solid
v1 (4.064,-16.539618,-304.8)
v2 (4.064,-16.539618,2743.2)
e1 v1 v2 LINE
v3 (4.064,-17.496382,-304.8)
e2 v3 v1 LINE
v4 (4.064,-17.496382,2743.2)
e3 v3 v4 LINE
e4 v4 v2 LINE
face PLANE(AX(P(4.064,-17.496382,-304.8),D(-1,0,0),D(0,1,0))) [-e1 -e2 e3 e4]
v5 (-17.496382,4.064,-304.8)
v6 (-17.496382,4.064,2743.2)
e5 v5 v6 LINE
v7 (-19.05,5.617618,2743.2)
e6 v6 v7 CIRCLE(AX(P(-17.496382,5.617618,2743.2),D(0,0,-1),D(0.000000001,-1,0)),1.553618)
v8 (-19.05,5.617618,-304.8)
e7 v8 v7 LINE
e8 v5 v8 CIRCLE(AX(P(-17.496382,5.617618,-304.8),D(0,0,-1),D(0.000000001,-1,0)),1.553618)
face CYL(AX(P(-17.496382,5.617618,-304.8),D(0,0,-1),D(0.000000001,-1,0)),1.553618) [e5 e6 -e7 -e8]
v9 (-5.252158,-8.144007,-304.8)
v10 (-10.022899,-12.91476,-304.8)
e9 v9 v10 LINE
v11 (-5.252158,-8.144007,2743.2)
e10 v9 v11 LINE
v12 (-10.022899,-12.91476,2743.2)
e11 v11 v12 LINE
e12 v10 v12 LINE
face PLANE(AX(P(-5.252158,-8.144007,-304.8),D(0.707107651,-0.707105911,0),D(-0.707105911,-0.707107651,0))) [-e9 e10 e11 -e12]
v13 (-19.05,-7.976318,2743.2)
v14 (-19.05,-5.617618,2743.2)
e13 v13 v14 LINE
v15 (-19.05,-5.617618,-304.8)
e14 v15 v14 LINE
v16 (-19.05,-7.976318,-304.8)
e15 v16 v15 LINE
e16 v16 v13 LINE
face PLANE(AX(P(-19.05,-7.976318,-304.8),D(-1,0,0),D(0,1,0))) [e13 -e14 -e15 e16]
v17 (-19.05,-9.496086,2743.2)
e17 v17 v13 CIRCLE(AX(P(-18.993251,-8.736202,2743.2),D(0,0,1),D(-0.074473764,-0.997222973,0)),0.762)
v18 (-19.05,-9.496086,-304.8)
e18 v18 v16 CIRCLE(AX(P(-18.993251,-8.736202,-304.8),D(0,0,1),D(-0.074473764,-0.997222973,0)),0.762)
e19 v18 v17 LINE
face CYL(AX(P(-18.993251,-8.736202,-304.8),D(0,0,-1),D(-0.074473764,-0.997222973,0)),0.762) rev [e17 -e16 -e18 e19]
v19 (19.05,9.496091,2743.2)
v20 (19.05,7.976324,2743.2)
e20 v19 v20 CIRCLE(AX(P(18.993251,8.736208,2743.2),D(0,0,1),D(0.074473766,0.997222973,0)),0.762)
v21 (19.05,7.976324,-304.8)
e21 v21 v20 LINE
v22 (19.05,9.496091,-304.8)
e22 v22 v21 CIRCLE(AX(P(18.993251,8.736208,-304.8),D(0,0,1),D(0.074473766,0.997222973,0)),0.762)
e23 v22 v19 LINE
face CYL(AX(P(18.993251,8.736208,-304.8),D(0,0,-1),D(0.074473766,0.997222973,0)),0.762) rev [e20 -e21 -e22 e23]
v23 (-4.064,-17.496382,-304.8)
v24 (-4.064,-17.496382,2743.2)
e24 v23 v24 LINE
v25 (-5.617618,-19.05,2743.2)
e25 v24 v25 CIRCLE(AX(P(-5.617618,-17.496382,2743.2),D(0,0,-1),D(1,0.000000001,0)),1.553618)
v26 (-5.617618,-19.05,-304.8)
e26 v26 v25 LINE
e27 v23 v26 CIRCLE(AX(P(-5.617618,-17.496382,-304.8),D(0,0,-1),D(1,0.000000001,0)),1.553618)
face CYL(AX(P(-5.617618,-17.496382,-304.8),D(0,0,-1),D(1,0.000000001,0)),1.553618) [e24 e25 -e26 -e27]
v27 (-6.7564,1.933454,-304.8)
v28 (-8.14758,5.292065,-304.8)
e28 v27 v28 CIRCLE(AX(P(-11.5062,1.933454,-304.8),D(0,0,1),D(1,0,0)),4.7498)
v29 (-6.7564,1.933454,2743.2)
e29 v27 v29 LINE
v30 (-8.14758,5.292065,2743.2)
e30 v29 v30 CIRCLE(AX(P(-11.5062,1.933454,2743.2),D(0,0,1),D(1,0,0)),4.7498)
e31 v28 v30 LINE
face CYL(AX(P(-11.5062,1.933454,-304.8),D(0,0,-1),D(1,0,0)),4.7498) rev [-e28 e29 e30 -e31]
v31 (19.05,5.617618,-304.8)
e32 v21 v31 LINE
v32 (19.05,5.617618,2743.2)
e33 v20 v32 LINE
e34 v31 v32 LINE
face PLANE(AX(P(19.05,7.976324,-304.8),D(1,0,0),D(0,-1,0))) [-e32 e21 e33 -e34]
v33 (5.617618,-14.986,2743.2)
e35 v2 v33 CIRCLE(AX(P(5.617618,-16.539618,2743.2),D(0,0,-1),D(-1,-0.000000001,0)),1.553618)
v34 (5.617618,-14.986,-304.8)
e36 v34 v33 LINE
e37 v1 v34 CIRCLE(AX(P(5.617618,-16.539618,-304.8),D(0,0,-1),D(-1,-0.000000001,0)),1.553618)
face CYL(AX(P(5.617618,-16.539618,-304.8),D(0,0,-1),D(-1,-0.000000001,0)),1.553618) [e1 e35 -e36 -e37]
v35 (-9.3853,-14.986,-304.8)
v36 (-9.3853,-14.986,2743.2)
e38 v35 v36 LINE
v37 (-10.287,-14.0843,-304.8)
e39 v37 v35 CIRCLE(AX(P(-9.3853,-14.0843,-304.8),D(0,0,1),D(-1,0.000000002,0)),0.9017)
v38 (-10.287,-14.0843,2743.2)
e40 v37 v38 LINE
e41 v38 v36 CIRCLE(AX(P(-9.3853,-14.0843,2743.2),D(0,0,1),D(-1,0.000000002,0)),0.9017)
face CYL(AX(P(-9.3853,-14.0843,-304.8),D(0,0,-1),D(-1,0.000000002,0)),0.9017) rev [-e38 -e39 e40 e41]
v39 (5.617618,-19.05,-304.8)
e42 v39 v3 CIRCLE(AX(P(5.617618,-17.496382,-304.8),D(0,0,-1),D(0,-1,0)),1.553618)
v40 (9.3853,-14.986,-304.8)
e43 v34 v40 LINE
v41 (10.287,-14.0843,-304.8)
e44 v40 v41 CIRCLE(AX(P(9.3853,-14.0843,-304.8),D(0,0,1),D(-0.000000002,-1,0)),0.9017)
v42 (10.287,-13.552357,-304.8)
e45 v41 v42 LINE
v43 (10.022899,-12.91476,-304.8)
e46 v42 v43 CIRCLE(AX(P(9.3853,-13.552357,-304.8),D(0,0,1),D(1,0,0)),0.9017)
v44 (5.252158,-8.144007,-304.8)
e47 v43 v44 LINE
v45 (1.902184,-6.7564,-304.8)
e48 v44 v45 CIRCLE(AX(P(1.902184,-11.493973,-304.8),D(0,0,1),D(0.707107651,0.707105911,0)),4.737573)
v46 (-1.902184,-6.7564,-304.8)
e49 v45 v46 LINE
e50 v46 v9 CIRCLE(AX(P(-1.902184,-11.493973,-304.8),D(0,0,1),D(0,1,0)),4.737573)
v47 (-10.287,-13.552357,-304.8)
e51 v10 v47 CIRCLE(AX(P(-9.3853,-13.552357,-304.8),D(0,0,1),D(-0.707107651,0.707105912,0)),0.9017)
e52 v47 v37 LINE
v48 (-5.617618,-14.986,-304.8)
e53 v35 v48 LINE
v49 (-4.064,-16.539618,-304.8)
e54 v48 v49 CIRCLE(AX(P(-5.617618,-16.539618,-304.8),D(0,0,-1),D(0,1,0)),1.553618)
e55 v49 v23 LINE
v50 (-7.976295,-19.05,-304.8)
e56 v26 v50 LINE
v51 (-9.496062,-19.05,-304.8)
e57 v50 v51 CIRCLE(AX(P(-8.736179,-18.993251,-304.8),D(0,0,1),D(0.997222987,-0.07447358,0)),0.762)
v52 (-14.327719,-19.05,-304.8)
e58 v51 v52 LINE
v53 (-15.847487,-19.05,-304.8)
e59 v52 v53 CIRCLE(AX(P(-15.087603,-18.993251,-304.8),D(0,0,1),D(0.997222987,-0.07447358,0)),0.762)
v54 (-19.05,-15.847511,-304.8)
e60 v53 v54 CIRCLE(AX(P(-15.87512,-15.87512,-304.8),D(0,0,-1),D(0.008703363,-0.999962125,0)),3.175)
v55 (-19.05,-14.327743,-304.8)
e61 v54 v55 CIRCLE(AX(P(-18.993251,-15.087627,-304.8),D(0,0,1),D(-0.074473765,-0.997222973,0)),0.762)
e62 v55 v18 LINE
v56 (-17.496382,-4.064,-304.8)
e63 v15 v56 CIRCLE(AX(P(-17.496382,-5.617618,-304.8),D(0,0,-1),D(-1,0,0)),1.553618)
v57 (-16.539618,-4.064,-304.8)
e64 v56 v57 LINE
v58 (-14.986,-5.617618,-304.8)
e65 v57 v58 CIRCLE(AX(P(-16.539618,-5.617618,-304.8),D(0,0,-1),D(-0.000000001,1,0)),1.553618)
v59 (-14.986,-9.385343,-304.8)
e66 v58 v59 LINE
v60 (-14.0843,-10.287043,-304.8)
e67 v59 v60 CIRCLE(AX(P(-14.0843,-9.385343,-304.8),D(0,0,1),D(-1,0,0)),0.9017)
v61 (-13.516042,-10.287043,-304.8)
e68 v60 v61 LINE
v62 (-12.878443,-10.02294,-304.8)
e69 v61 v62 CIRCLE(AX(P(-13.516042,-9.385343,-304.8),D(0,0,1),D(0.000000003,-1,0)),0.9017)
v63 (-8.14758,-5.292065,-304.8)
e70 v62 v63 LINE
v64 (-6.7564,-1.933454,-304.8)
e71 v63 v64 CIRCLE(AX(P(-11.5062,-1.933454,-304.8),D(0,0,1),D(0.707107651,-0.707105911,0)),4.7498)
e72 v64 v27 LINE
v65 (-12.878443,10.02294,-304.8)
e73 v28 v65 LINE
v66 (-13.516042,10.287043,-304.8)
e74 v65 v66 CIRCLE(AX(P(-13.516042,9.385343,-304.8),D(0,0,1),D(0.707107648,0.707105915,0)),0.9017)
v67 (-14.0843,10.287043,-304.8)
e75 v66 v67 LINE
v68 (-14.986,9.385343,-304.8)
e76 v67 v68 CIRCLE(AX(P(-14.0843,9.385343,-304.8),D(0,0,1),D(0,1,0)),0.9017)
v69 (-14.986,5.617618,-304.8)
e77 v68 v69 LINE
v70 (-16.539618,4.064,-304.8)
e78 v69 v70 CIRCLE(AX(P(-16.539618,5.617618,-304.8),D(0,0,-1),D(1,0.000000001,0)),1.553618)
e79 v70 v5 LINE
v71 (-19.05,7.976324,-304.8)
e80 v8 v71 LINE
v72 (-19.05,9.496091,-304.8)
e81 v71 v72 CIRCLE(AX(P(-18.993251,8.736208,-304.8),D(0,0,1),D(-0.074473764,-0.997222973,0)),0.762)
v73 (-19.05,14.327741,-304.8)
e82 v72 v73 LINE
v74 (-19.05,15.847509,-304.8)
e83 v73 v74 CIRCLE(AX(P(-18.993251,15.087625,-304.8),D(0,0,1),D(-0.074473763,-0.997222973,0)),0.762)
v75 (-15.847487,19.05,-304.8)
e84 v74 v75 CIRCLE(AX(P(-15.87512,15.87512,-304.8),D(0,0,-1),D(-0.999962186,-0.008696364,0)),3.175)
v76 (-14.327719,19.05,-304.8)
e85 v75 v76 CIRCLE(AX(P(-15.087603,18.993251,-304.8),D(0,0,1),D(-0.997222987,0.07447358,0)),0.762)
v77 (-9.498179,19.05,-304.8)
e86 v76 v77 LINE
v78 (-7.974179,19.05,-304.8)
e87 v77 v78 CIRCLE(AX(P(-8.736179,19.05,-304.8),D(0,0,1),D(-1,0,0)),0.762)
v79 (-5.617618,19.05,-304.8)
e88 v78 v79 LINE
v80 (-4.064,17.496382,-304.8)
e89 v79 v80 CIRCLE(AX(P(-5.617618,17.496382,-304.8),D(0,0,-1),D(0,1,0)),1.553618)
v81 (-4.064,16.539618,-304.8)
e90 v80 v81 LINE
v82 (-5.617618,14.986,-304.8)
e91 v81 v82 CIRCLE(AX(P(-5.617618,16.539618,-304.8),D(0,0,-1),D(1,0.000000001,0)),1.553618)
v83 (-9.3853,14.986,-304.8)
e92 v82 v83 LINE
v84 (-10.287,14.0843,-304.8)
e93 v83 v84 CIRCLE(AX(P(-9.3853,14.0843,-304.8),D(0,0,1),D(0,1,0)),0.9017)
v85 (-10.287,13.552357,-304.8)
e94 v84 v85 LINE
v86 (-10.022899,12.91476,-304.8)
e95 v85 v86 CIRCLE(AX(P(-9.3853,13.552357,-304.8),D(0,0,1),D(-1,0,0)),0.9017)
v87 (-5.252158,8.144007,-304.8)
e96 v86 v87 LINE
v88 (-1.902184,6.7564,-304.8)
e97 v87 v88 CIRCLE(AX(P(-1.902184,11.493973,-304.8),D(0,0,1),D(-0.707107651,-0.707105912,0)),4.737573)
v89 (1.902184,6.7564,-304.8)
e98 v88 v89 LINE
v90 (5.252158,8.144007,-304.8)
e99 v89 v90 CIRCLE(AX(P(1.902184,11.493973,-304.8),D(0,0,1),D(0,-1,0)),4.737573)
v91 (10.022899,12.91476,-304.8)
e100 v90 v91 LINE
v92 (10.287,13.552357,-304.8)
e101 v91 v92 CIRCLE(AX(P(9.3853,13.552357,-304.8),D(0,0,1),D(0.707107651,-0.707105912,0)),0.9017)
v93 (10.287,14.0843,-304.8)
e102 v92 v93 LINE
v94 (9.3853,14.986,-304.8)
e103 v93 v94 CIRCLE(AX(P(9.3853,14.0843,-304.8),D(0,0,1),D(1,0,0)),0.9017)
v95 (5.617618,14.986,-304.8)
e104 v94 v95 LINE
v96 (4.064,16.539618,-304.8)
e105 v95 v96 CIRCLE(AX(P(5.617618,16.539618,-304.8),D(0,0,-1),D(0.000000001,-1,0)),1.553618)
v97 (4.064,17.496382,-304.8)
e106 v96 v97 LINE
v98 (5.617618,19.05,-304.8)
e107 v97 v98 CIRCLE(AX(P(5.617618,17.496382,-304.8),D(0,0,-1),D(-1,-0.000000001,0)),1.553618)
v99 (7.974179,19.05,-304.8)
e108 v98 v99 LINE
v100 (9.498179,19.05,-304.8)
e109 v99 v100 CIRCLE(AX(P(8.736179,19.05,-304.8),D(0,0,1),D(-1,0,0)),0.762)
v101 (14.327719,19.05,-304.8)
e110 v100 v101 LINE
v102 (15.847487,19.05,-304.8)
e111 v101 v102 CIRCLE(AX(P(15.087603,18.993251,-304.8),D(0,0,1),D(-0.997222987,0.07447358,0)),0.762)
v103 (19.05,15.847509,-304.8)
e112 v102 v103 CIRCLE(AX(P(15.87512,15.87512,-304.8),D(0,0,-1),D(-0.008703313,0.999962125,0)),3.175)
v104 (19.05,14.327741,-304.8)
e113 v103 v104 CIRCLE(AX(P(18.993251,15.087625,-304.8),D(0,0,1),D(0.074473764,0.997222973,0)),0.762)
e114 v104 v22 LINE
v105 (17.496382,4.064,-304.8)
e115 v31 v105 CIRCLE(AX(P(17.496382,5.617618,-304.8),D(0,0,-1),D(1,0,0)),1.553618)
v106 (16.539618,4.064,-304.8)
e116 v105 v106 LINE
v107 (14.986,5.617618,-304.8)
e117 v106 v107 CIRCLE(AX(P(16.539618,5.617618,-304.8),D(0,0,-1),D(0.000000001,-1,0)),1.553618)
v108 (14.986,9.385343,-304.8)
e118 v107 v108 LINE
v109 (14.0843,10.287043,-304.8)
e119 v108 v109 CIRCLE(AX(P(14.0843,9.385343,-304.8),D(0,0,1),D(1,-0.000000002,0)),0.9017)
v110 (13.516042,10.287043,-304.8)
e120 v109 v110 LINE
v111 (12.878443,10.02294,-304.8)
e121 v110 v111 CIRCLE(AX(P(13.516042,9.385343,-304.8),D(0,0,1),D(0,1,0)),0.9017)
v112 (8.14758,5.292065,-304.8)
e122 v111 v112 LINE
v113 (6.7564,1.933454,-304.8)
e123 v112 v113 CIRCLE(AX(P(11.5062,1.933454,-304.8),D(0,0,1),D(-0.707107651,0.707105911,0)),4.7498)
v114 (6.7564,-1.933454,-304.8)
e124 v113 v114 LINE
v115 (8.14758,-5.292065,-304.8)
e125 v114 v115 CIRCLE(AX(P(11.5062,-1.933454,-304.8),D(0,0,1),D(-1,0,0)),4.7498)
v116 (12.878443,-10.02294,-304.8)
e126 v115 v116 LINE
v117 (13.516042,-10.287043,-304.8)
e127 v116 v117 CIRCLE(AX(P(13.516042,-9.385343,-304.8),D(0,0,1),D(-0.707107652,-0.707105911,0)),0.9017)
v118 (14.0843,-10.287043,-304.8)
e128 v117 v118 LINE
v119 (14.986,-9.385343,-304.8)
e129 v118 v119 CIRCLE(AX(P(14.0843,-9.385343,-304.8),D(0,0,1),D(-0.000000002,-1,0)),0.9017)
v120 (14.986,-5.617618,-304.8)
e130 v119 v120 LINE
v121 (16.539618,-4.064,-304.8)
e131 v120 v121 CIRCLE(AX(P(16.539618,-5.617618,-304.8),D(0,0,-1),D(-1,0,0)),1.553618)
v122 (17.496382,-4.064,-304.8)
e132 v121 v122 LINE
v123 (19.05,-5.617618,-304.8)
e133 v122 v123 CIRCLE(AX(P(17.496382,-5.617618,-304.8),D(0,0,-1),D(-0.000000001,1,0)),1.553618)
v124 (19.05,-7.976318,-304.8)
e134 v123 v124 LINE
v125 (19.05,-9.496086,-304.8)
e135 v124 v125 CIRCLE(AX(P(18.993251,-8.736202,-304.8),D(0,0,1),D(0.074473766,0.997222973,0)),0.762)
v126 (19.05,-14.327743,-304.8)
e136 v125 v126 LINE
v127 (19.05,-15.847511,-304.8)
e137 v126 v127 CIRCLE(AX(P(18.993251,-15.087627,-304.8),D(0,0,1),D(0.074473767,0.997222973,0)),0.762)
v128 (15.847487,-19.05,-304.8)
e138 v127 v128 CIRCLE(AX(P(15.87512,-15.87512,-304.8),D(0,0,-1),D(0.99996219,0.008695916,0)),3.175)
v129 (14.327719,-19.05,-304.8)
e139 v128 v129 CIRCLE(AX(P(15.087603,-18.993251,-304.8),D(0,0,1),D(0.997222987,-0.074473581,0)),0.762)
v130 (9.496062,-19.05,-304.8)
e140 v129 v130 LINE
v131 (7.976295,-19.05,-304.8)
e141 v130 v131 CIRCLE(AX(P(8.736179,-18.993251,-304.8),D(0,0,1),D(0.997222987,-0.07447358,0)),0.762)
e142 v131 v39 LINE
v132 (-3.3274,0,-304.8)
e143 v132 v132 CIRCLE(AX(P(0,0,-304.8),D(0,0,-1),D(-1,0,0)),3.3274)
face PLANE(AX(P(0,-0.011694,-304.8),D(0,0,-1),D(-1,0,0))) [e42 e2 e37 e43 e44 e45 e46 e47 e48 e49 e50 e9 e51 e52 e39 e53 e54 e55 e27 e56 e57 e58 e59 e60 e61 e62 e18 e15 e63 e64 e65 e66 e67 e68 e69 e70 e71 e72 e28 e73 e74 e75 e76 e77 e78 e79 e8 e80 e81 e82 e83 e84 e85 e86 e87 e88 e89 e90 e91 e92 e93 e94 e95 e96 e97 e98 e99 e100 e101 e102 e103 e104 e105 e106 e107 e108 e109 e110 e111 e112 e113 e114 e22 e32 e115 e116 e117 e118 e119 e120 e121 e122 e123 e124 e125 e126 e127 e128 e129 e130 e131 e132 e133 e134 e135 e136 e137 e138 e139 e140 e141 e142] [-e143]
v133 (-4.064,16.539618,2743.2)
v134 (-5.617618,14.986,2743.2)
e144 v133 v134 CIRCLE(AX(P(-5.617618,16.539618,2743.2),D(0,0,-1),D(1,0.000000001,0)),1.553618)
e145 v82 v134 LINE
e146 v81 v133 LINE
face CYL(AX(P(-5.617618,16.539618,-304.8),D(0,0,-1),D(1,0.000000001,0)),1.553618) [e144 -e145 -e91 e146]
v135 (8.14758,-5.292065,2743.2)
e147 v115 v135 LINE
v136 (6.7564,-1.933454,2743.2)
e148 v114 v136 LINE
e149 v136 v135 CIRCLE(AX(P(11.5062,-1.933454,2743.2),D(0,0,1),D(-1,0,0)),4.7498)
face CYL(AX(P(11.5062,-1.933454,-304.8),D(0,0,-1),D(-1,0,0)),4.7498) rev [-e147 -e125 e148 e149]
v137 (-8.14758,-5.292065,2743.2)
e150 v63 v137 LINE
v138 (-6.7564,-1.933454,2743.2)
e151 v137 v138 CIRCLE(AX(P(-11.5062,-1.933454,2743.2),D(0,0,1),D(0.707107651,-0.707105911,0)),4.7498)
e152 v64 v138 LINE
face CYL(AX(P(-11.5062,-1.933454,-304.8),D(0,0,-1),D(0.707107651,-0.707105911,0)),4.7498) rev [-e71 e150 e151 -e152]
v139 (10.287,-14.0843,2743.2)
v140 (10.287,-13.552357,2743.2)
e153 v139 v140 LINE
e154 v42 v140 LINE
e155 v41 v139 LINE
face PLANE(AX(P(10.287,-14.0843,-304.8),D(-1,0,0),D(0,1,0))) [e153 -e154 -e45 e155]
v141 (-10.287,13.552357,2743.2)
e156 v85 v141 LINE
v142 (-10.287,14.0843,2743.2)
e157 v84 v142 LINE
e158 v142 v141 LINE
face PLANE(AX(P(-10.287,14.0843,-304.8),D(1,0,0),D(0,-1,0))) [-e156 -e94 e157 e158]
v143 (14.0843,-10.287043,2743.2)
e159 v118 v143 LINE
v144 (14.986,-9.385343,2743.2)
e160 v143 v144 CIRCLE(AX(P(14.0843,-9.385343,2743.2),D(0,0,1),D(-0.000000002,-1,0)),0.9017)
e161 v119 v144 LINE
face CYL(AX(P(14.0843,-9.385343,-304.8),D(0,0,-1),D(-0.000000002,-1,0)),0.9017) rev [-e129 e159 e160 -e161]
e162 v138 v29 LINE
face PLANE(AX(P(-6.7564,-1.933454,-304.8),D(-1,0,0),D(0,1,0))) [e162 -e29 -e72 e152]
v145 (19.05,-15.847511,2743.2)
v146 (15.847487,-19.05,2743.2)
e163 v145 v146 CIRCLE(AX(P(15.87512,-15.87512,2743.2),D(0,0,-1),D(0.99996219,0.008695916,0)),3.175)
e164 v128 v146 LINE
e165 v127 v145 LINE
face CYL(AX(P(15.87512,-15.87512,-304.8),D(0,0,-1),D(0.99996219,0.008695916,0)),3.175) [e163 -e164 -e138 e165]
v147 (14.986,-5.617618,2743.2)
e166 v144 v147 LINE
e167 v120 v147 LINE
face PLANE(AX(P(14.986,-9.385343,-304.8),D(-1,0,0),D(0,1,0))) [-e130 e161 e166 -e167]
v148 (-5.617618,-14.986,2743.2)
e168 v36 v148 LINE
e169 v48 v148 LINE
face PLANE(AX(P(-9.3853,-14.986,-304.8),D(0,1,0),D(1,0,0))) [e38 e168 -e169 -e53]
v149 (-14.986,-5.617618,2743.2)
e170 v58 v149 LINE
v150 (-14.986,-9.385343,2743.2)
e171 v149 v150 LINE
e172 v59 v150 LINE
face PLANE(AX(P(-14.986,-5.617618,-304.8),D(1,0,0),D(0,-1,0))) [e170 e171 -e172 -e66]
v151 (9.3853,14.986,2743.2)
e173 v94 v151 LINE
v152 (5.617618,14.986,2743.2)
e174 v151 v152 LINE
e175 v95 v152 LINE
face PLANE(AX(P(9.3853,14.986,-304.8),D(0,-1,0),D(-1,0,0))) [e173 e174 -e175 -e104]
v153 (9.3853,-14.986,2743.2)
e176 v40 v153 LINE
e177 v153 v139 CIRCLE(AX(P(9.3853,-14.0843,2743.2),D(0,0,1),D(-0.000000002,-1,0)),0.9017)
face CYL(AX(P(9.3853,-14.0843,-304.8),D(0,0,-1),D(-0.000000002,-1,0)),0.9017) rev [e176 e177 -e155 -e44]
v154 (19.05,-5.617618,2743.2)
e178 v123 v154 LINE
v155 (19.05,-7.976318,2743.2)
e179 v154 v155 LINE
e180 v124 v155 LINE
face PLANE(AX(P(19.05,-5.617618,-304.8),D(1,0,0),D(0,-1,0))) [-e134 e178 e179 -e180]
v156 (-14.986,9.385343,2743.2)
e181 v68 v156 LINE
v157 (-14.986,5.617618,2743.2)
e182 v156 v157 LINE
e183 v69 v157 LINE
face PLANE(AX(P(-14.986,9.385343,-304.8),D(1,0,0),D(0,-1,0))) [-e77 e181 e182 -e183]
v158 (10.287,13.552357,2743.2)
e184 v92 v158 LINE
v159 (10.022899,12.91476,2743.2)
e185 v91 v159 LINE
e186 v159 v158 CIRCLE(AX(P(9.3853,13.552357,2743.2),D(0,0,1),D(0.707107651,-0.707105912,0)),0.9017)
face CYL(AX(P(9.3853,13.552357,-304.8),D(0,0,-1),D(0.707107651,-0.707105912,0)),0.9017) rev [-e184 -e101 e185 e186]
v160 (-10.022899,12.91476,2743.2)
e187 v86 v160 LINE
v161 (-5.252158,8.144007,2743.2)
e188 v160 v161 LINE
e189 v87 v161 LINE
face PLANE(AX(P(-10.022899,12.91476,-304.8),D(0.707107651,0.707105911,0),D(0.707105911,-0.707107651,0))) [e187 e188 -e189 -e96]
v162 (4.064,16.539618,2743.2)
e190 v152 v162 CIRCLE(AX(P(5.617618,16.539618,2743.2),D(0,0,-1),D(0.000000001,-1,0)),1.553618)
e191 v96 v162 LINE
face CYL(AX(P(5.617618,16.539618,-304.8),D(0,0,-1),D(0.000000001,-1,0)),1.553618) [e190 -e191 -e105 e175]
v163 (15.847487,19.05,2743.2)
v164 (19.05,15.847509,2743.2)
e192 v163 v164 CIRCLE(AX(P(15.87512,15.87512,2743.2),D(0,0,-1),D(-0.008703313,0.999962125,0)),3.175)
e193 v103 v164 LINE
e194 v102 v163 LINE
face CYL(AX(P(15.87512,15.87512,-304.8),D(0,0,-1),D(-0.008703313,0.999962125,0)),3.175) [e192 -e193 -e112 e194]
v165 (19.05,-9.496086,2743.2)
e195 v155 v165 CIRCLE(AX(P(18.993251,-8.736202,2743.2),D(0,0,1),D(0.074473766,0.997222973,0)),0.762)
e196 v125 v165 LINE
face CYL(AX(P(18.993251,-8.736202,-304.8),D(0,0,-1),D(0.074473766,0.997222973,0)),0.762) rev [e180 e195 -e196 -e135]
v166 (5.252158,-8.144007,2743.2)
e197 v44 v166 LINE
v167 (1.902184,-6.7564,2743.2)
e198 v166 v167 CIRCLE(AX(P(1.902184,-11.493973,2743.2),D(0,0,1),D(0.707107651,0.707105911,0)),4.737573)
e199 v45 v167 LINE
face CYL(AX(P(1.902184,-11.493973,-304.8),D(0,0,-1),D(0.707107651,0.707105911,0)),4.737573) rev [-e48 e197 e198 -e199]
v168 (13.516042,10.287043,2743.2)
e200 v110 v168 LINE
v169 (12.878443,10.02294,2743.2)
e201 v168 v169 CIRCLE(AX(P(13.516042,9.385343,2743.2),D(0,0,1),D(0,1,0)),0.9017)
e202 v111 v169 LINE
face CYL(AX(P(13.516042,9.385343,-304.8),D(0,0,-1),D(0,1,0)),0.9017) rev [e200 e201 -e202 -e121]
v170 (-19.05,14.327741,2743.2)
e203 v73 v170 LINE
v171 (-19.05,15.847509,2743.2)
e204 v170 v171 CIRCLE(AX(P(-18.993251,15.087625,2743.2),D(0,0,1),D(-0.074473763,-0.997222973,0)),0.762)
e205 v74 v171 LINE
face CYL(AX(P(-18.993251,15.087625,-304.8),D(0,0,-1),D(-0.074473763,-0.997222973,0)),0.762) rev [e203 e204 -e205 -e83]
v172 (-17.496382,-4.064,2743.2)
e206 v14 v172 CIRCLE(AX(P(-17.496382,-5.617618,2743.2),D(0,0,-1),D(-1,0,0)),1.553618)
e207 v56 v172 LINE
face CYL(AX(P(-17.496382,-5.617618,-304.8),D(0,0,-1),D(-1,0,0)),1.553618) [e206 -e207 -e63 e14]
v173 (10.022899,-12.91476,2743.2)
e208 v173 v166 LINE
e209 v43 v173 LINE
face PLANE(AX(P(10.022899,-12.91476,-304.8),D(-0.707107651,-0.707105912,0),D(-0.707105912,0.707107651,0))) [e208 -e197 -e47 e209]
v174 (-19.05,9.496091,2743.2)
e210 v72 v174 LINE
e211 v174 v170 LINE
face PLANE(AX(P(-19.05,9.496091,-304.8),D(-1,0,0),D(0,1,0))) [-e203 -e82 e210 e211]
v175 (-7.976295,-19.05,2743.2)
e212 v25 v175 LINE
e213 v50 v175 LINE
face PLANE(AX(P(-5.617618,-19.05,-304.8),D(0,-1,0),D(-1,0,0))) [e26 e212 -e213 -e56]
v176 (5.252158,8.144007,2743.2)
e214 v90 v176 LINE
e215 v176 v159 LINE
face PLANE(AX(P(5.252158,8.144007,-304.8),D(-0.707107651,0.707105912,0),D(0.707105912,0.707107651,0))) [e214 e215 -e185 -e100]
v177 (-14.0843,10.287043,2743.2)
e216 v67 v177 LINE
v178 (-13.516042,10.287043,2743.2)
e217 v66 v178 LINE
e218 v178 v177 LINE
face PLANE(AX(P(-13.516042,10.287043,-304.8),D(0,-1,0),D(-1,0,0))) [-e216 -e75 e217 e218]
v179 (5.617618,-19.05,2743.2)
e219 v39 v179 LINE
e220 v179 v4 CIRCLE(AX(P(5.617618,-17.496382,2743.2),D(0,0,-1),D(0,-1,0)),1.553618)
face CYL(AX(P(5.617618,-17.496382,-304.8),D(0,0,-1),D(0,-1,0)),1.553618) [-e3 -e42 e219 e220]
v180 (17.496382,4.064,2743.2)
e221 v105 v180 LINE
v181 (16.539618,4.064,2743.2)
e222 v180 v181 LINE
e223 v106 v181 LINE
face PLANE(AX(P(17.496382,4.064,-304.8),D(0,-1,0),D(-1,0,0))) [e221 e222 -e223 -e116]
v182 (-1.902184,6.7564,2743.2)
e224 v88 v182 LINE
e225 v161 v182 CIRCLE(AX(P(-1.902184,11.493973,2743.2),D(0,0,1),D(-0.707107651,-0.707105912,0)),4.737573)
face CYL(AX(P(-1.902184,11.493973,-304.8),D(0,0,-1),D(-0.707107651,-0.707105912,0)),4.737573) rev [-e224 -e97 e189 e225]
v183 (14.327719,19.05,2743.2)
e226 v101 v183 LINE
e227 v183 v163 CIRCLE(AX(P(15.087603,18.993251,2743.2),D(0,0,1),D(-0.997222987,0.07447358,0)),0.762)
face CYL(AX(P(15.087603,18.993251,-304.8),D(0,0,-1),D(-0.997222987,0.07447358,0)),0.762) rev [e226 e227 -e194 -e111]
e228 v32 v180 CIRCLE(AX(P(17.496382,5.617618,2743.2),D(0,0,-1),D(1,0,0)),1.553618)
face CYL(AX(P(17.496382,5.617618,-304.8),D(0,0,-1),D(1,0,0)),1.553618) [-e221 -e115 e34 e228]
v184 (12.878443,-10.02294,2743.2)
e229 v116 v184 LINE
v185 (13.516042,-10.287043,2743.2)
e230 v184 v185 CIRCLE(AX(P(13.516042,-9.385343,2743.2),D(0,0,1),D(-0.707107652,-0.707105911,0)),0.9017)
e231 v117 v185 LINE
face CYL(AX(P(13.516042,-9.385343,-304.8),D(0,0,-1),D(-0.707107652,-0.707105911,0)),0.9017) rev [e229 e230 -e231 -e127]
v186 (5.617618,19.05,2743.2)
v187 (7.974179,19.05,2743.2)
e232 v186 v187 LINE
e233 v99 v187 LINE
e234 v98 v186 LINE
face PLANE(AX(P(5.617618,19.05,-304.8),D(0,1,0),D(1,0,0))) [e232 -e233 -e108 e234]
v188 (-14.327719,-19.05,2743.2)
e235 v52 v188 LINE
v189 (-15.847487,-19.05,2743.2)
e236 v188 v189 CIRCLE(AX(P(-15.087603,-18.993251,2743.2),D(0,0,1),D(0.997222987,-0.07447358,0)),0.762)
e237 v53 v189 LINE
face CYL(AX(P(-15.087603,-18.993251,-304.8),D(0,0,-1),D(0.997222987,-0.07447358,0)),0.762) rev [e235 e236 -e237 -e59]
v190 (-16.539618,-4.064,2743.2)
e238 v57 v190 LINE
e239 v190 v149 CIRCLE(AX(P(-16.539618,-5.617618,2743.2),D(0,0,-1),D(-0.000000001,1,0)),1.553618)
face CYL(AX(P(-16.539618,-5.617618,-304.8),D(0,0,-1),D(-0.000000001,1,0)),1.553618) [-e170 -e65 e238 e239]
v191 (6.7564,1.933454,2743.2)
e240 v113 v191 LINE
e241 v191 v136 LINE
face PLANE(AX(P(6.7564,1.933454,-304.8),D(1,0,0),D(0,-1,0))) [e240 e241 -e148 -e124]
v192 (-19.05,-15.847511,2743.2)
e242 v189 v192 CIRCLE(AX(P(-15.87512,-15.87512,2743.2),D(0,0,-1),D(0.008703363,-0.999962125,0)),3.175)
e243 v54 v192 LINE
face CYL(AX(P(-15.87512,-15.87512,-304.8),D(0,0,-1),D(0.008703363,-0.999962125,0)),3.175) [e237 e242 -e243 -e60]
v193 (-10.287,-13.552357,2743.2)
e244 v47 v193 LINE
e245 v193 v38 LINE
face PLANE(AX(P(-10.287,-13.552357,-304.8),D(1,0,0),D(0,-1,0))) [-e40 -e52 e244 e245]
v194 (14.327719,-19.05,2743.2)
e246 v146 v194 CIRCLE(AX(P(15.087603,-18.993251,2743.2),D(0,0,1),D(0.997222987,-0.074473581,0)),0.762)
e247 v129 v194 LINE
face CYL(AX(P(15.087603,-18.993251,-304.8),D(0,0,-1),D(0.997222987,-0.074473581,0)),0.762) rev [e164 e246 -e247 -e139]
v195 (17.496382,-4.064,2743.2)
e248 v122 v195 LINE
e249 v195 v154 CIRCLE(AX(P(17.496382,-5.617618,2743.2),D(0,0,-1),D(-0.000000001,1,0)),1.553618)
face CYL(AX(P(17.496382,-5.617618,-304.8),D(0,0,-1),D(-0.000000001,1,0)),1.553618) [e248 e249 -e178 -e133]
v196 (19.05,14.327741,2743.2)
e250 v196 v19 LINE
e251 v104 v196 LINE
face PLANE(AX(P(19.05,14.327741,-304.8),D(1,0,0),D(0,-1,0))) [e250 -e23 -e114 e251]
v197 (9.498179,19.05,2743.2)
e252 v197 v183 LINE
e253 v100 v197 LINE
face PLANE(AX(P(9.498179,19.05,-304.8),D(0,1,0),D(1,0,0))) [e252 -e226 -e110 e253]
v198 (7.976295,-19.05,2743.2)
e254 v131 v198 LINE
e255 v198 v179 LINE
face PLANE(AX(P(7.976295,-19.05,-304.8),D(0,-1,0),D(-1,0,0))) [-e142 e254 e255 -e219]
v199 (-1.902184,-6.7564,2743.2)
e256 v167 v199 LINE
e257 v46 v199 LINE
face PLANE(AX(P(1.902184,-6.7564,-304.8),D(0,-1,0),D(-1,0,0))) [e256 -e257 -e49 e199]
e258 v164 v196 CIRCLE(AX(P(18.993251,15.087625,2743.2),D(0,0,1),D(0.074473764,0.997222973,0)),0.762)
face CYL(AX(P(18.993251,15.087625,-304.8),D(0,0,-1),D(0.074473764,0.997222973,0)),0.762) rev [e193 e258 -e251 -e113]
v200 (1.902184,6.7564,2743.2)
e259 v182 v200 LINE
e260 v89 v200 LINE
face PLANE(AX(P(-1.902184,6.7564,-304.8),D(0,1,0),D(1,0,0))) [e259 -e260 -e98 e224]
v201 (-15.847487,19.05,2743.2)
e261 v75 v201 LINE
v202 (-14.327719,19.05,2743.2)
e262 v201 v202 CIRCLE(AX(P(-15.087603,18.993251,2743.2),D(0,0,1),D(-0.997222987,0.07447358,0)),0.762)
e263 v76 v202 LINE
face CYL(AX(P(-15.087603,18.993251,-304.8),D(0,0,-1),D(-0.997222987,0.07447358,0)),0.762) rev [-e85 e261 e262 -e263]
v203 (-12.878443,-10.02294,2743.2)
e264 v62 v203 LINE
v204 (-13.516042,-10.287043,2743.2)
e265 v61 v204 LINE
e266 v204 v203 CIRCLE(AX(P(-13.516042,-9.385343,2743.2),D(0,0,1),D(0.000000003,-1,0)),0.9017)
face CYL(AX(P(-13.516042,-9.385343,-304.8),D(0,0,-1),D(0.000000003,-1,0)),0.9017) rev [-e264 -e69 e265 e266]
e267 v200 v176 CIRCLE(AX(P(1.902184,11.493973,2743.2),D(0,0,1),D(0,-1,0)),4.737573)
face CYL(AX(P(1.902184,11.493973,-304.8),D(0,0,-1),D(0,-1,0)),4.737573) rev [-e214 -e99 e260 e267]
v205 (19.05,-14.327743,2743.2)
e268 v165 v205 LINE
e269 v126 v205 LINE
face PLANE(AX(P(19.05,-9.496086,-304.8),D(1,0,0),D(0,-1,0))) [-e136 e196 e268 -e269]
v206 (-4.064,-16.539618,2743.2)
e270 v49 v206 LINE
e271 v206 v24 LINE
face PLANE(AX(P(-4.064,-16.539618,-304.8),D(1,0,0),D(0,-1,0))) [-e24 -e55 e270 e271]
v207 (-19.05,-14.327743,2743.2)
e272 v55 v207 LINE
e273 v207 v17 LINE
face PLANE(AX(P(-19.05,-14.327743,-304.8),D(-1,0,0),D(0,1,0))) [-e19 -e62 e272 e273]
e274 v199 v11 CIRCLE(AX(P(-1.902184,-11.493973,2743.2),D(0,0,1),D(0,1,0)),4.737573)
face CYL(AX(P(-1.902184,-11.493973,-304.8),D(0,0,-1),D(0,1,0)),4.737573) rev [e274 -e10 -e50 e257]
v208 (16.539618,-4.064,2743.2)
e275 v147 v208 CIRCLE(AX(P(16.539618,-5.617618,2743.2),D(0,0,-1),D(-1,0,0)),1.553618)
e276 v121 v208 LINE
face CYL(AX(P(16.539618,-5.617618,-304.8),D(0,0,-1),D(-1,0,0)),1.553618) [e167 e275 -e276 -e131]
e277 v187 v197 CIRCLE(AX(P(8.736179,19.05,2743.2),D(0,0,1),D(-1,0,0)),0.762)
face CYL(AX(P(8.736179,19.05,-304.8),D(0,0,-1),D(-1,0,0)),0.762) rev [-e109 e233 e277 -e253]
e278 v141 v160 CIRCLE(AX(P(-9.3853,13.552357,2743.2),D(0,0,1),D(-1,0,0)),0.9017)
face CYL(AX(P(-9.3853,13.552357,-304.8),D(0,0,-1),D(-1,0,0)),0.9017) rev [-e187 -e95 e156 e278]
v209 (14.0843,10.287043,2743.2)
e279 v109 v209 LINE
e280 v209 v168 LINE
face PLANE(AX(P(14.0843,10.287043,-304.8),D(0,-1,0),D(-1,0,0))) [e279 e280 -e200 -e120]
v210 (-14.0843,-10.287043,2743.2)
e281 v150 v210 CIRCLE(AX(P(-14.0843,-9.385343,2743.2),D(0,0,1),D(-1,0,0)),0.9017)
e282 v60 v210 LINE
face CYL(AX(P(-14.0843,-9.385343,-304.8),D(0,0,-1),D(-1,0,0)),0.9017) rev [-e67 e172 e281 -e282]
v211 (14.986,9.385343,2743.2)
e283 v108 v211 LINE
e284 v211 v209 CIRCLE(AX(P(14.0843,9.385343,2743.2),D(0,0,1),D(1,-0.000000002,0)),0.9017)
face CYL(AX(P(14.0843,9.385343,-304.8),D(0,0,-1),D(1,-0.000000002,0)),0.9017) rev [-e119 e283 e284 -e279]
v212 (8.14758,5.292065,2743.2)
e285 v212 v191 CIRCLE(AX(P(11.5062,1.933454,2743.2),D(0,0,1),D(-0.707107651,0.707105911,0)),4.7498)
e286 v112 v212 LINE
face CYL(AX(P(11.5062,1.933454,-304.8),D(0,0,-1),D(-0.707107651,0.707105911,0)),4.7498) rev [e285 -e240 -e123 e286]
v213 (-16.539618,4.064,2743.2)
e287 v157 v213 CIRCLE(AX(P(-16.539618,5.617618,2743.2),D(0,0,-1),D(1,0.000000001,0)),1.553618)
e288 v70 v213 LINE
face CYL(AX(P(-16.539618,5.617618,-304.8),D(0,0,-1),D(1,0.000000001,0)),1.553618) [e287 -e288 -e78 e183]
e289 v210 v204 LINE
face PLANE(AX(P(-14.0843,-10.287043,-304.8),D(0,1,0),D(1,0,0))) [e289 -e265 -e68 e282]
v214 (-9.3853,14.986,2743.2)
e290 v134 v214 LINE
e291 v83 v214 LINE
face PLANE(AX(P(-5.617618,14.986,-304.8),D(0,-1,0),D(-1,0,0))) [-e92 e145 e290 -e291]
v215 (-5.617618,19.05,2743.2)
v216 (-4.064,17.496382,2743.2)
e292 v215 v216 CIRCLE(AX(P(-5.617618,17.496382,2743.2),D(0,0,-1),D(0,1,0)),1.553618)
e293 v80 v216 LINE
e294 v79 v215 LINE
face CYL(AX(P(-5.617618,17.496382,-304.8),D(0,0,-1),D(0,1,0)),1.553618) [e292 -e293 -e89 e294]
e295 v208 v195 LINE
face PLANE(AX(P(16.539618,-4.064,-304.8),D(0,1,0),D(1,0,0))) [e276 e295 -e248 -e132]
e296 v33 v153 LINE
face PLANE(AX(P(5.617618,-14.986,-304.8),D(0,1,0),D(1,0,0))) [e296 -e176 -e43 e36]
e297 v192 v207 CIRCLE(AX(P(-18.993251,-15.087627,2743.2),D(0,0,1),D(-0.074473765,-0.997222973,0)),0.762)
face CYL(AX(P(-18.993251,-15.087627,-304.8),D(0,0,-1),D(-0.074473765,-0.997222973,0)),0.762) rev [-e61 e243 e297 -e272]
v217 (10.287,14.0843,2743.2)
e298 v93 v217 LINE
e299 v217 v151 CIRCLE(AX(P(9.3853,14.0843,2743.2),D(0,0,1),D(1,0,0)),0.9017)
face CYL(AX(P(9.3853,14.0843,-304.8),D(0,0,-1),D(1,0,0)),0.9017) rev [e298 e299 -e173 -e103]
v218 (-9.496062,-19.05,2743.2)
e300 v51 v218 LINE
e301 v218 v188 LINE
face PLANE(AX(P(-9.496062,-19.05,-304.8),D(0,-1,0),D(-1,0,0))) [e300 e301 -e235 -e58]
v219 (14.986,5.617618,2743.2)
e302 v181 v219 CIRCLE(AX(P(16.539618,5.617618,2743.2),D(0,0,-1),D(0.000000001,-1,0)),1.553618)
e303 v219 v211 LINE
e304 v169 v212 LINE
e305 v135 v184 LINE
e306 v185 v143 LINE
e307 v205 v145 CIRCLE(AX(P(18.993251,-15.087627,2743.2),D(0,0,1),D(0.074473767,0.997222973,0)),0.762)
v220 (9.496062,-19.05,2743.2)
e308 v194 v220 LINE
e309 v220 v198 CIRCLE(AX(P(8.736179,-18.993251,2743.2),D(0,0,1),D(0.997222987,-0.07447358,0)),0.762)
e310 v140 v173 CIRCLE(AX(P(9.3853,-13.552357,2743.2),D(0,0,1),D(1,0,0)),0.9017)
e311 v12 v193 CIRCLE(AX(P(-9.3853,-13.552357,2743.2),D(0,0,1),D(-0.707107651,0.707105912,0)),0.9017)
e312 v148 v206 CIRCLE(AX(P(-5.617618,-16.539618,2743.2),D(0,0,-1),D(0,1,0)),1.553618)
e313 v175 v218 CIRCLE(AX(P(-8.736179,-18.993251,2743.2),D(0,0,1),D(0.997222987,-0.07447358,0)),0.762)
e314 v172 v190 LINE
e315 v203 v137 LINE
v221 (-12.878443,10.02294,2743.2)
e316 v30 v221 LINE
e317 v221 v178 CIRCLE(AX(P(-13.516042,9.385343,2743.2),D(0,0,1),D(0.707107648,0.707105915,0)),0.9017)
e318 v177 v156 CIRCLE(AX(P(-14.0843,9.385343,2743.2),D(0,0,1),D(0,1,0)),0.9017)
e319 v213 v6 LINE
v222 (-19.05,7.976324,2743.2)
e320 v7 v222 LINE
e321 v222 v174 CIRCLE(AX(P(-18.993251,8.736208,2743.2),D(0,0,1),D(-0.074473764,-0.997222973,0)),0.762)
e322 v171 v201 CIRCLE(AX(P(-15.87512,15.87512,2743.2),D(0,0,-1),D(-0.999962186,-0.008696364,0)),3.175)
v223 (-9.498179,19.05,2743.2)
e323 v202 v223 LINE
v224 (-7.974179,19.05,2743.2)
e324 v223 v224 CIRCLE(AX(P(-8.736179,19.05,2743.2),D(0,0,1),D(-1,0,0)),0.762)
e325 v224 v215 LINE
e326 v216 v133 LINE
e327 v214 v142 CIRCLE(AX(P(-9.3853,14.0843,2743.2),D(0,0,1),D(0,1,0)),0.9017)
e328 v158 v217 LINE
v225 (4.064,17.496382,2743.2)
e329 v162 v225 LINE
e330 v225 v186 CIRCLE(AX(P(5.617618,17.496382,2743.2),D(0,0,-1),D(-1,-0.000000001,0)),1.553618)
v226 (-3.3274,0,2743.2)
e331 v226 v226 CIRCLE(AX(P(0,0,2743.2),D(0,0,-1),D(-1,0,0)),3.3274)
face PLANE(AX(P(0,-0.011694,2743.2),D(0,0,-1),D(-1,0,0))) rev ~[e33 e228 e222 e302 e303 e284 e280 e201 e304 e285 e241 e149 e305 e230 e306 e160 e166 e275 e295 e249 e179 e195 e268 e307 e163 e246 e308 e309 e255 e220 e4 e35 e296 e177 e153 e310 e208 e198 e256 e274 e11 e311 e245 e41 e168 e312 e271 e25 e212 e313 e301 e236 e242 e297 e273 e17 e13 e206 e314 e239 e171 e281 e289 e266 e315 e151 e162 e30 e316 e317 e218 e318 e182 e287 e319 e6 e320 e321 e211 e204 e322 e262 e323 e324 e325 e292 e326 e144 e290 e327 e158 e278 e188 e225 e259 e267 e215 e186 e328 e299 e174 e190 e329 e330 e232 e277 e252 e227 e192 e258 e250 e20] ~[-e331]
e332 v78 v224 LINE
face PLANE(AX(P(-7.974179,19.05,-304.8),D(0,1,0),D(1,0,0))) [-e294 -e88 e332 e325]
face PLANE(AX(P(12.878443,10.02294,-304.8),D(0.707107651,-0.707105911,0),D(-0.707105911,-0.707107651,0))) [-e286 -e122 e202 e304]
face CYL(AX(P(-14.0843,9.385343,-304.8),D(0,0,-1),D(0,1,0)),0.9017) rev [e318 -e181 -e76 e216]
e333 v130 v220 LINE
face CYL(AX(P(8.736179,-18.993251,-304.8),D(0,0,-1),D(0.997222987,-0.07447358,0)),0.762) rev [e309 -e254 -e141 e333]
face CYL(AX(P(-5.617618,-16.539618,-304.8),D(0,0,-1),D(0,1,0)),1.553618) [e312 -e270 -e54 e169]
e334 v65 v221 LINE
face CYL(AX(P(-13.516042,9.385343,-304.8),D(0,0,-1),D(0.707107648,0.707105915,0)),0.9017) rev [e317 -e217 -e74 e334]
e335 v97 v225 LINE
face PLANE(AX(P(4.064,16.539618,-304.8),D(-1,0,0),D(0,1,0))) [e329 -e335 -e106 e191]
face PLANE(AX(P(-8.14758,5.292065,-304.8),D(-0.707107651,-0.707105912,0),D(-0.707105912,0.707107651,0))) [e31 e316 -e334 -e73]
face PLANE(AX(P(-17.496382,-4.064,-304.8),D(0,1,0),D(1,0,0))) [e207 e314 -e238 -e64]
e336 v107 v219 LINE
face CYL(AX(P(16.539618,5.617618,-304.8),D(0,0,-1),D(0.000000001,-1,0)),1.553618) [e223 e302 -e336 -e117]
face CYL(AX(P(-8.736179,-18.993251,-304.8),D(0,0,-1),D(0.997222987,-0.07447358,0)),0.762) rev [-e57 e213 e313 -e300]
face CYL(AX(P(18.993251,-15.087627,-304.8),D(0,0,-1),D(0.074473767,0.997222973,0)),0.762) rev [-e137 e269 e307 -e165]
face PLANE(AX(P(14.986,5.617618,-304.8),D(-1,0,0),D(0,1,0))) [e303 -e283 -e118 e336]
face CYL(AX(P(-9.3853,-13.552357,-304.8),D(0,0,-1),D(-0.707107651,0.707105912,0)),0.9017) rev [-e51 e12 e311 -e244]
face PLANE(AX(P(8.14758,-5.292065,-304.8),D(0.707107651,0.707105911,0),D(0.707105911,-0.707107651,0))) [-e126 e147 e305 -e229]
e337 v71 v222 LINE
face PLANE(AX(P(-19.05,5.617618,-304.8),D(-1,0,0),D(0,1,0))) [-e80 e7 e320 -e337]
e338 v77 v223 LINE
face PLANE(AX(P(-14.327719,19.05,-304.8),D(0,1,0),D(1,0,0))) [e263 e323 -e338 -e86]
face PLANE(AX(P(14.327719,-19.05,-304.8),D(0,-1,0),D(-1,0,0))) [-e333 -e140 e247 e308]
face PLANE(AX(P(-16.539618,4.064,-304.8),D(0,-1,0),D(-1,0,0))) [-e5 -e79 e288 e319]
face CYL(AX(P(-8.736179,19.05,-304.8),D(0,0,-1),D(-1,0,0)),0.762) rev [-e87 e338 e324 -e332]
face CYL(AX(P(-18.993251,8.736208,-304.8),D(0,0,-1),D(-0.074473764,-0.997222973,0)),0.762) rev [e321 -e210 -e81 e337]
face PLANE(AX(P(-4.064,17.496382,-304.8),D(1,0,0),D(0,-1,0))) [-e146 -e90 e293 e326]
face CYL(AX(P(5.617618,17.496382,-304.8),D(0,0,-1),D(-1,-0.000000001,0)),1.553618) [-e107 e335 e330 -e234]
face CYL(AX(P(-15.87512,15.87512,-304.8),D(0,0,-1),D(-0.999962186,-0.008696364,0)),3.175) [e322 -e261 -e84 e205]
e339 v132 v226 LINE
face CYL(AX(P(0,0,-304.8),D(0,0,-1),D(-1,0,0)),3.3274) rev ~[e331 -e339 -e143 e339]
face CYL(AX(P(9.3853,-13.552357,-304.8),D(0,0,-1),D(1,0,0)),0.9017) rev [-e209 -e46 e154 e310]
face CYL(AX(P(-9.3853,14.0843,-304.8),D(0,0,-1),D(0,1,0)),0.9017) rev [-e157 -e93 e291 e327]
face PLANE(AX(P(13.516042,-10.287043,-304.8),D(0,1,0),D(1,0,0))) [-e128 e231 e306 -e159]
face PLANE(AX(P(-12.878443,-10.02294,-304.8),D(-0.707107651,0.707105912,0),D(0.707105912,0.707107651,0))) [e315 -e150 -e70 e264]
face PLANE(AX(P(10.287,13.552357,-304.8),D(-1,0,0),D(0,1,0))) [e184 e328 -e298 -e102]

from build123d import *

# Parameters (mm, degrees)
SKETCH1_R           = 3.3274
BOSS_EXTRUDE1_DEPTH = 3048


with BuildPart() as part:
    # Sketch1 → Boss-Extrude1 (new body)
    with BuildSketch(Plane(origin=(0, 0, -304.8), x_dir=(-1, 0, 0), z_dir=(0, 0, -1))):
        with BuildLine():
            Line((14.327719208, 19.05), (9.498178705, 19.05))
            ThreePointArc((9.498178705, 19.05), (8.736178705, 18.288), (7.974178705, 19.05))
            Line((7.974178705, 19.05), (5.617617549, 19.05))
            ThreePointArc((5.617617549, 19.05), (4.519044045, 18.594955955), (4.064000001, 17.496382451))
            Line((4.064000001, 17.496382451), (4.064000001, 16.539617547))
            ThreePointArc((4.064000001, 16.539617547), (4.519044045, 15.441044043), (5.617617549, 14.985999999))
            Line((5.617617549, 14.985999999), (9.3853, 14.985999999))
            ThreePointArc((9.3853, 14.985999999), (10.022898185, 14.721898183), (10.287, 14.084299999))
            Line((10.287, 14.084299999), (10.287, 13.552357129))
            ThreePointArc((10.287, 13.552357129), (10.218362387, 13.207291991), (10.022898969, 12.914759729))
            Line((10.022898969, 12.914759729), (5.252158108, 8.144007131))
            ThreePointArc((5.252158108, 8.144007131), (3.715177374, 7.117027387), (1.902183977, 6.756399998))
            Line((1.902183977, 6.756399998), (-1.902183975, 6.756399998))
            ThreePointArc((-1.902183975, 6.756399998), (-3.715177372, 7.117027386), (-5.252158105, 8.14400713))
            Line((-5.252158105, 8.14400713), (-10.022898969, 12.914759729))
            ThreePointArc((-10.022898969, 12.914759729), (-10.218362387, 13.207291991), (-10.287, 13.55235713))
            Line((-10.287, 13.55235713), (-10.287, 14.084299999))
            ThreePointArc((-10.287, 14.084299999), (-10.022898185, 14.721898183), (-9.3853, 14.985999999))
            Line((-9.3853, 14.985999999), (-5.617617549, 14.985999999))
            ThreePointArc((-5.617617549, 14.985999999), (-4.519044045, 15.441044043), (-4.064000001, 16.539617547))
            Line((-4.064000001, 16.539617547), (-4.064000001, 17.496382451))
            ThreePointArc((-4.064000001, 17.496382451), (-4.519044045, 18.594955955), (-5.617617549, 19.05))
            Line((-5.617617549, 19.05), (-7.974178702, 19.05))
            ThreePointArc((-7.974178702, 19.05), (-8.736178702, 18.288), (-9.498178702, 19.05))
            Line((-9.498178702, 19.05), (-14.327719206, 19.05))
            ThreePointArc((-14.327719206, 19.05), (-15.087603121, 18.231251132), (-15.847487038, 19.05))
            ThreePointArc((-15.847487038, 19.05), (-18.120176287, 18.120192083), (-19.049999998, 15.847509295))
            ThreePointArc((-19.049999998, 15.847509295), (-18.23125099, 15.087625389), (-19.05, 14.327741484))
            Line((-19.05, 14.327741484), (-19.05, 9.49609147))
            ThreePointArc((-19.05, 9.49609147), (-18.23125099, 8.736207564), (-19.05, 7.976323659))
            Line((-19.05, 7.976323659), (-19.05, 5.617617549))
            ThreePointArc((-19.05, 5.617617549), (-18.594955955, 4.519044045), (-17.496382451, 4.064000001))
            Line((-17.496382451, 4.064000001), (-16.53961755, 4.064000001))
            ThreePointArc((-16.53961755, 4.064000001), (-15.441044046, 4.519044045), (-14.986000001, 5.617617549))
            Line((-14.986000001, 5.617617549), (-14.986000001, 9.385342517))
            ThreePointArc((-14.986000001, 9.385342517), (-14.721898186, 10.022940702), (-14.084300001, 10.287042517))
            Line((-14.084300001, 10.287042517), (-13.516042087, 10.287042517))
            ThreePointArc((-13.516042087, 10.287042517), (-13.170975923, 10.218404479), (-12.878443118, 10.022939917))
            Line((-12.878443118, 10.022939917), (-8.147580081, 5.292065242))
            ThreePointArc((-8.147580081, 5.292065242), (-7.11795588, 3.751120652), (-6.756400001, 1.933453584))
            Line((-6.756400001, 1.933453584), (-6.756400001, -1.933453584))
            ThreePointArc((-6.756400001, -1.933453584), (-7.11795588, -3.751120652), (-8.147580081, -5.292065242))
            Line((-8.147580081, -5.292065242), (-12.878443118, -10.022939917))
            ThreePointArc((-12.878443118, -10.022939917), (-13.170975923, -10.218404479), (-13.516042087, -10.287042517))
            Line((-13.516042087, -10.287042517), (-14.084300001, -10.287042517))
            ThreePointArc((-14.084300001, -10.287042517), (-14.721898186, -10.022940702), (-14.986000001, -9.385342517))
            Line((-14.986000001, -9.385342517), (-14.986000001, -5.617617549))
            ThreePointArc((-14.986000001, -5.617617549), (-15.441044046, -4.519044045), (-16.53961755, -4.064000001))
            Line((-16.53961755, -4.064000001), (-17.496382451, -4.064000001))
            ThreePointArc((-17.496382451, -4.064000001), (-18.594955955, -4.519044045), (-19.05, -5.617617549))
            Line((-19.05, -5.617617549), (-19.05, -7.97631849))
            ThreePointArc((-19.05, -7.97631849), (-18.23125099, -8.736202395), (-19.05, -9.496086301))
            Line((-19.05, -9.496086301), (-19.05, -14.327742909))
            ThreePointArc((-19.05, -14.327742909), (-18.23125099, -15.087626814), (-19.049999998, -15.84751072))
            ThreePointArc((-19.049999998, -15.84751072), (-18.120175716, -18.120192644), (-15.847486868, -19.050000001))
            ThreePointArc((-15.847486868, -19.050000001), (-15.087602952, -18.231251132), (-14.327719035, -19.05))
            Line((-14.327719035, -19.05), (-9.496062448, -19.05))
            ThreePointArc((-9.496062448, -19.05), (-8.736178532, -18.231251132), (-7.976294616, -19.05))
            Line((-7.976294616, -19.05), (-5.617617549, -19.05))
            ThreePointArc((-5.617617549, -19.05), (-4.519044045, -18.594955955), (-4.064000001, -17.496382451))
            Line((-4.064000001, -17.496382451), (-4.064000001, -16.53961755))
            ThreePointArc((-4.064000001, -16.53961755), (-4.519044045, -15.441044046), (-5.617617549, -14.986000001))
            Line((-5.617617549, -14.986000001), (-9.3853, -14.986000001))
            ThreePointArc((-9.3853, -14.986000001), (-10.022898185, -14.721898186), (-10.287, -14.084300001))
            Line((-10.287, -14.084300001), (-10.287, -13.552357132))
            ThreePointArc((-10.287, -13.552357132), (-10.218362387, -13.207291994), (-10.022898969, -12.914759732))
            Line((-10.022898969, -12.914759732), (-5.252158104, -8.144007133))
            ThreePointArc((-5.252158104, -8.144007133), (-3.715177371, -7.117027389), (-1.902183975, -6.756400001))
            Line((-1.902183975, -6.756400001), (1.902183978, -6.756400001))
            ThreePointArc((1.902183978, -6.756400001), (3.715177375, -7.117027389), (5.252158109, -8.144007134))
            Line((5.252158109, -8.144007134), (10.022898969, -12.914759732))
            ThreePointArc((10.022898969, -12.914759732), (10.218362387, -13.207291994), (10.287, -13.552357133))
            Line((10.287, -13.552357133), (10.287, -14.084300001))
            ThreePointArc((10.287, -14.084300001), (10.022898185, -14.721898186), (9.3853, -14.986000001))
            Line((9.3853, -14.986000001), (5.617617549, -14.986000001))
            ThreePointArc((5.617617549, -14.986000001), (4.519044045, -15.441044046), (4.064000001, -16.53961755))
            Line((4.064000001, -16.53961755), (4.064000001, -17.496382451))
            ThreePointArc((4.064000001, -17.496382451), (4.519044045, -18.594955955), (5.617617549, -19.05))
            Line((5.617617549, -19.05), (7.976294616, -19.05))
            ThreePointArc((7.976294616, -19.05), (8.736178532, -18.231251132), (9.496062448, -19.05))
            Line((9.496062448, -19.05), (14.327719035, -19.05))
            ThreePointArc((14.327719035, -19.05), (15.087602952, -18.231251132), (15.847486868, -19.050000001))
            ThreePointArc((15.847486868, -19.050000001), (18.120175717, -18.120192645), (19.050000001, -15.84751072))
            ThreePointArc((19.050000001, -15.84751072), (18.231250992, -15.087626816), (19.049999999, -14.327742909))
            Line((19.049999999, -14.327742909), (19.049999999, -9.496086301))
            ThreePointArc((19.049999999, -9.496086301), (18.231250991, -8.736202395), (19.049999999, -7.97631849))
            Line((19.049999999, -7.97631849), (19.049999999, -5.617617549))
            ThreePointArc((19.049999999, -5.617617549), (18.594955954, -4.519044045), (17.49638245, -4.064000001))
            Line((17.49638245, -4.064000001), (16.539617547, -4.064000001))
            ThreePointArc((16.539617547, -4.064000001), (15.441044043, -4.519044045), (14.985999999, -5.617617549))
            Line((14.985999999, -5.617617549), (14.985999999, -9.385342517))
            ThreePointArc((14.985999999, -9.385342517), (14.721898183, -10.022940702), (14.084299999, -10.287042517))
            Line((14.084299999, -10.287042517), (13.516042087, -10.287042517))
            ThreePointArc((13.516042087, -10.287042517), (13.170975924, -10.218404479), (12.878443118, -10.022939918))
            Line((12.878443118, -10.022939918), (8.147580079, -5.292065243))
            ThreePointArc((8.147580079, -5.292065243), (7.117955878, -3.751120653), (6.756399999, -1.933453584))
            Line((6.756399999, -1.933453584), (6.756399999, 1.933453584))
            ThreePointArc((6.756399999, 1.933453584), (7.117955878, 3.751120653), (8.147580079, 5.292065243))
            Line((8.147580079, 5.292065243), (12.878443118, 10.022939918))
            ThreePointArc((12.878443118, 10.022939918), (13.170975924, 10.218404479), (13.516042087, 10.287042517))
            Line((13.516042087, 10.287042517), (14.084299999, 10.287042517))
            ThreePointArc((14.084299999, 10.287042517), (14.721898183, 10.022940702), (14.985999999, 9.385342517))
            Line((14.985999999, 9.385342517), (14.985999999, 5.617617549))
            ThreePointArc((14.985999999, 5.617617549), (15.441044043, 4.519044045), (16.539617547, 4.064000001))
            Line((16.539617547, 4.064000001), (17.49638245, 4.064000001))
            ThreePointArc((17.49638245, 4.064000001), (18.594955954, 4.519044045), (19.049999999, 5.617617549))
            Line((19.049999999, 5.617617549), (19.049999999, 7.976323659))
            ThreePointArc((19.049999999, 7.976323659), (18.231250991, 8.736207564), (19.049999999, 9.49609147))
            Line((19.049999999, 9.49609147), (19.049999999, 14.327741484))
            ThreePointArc((19.049999999, 14.327741484), (18.231250992, 15.087625391), (19.050000001, 15.847509295))
            ThreePointArc((19.050000001, 15.847509295), (18.12017629, 18.120192083), (15.84748704, 19.05))
            ThreePointArc((15.84748704, 19.05), (15.087603124, 18.231251132), (14.327719208, 19.05))
        make_face()
        Circle(SKETCH1_R, mode=Mode.SUBTRACT)
    extrude(amount=-BOSS_EXTRUDE1_DEPTH)


solid = part.part
